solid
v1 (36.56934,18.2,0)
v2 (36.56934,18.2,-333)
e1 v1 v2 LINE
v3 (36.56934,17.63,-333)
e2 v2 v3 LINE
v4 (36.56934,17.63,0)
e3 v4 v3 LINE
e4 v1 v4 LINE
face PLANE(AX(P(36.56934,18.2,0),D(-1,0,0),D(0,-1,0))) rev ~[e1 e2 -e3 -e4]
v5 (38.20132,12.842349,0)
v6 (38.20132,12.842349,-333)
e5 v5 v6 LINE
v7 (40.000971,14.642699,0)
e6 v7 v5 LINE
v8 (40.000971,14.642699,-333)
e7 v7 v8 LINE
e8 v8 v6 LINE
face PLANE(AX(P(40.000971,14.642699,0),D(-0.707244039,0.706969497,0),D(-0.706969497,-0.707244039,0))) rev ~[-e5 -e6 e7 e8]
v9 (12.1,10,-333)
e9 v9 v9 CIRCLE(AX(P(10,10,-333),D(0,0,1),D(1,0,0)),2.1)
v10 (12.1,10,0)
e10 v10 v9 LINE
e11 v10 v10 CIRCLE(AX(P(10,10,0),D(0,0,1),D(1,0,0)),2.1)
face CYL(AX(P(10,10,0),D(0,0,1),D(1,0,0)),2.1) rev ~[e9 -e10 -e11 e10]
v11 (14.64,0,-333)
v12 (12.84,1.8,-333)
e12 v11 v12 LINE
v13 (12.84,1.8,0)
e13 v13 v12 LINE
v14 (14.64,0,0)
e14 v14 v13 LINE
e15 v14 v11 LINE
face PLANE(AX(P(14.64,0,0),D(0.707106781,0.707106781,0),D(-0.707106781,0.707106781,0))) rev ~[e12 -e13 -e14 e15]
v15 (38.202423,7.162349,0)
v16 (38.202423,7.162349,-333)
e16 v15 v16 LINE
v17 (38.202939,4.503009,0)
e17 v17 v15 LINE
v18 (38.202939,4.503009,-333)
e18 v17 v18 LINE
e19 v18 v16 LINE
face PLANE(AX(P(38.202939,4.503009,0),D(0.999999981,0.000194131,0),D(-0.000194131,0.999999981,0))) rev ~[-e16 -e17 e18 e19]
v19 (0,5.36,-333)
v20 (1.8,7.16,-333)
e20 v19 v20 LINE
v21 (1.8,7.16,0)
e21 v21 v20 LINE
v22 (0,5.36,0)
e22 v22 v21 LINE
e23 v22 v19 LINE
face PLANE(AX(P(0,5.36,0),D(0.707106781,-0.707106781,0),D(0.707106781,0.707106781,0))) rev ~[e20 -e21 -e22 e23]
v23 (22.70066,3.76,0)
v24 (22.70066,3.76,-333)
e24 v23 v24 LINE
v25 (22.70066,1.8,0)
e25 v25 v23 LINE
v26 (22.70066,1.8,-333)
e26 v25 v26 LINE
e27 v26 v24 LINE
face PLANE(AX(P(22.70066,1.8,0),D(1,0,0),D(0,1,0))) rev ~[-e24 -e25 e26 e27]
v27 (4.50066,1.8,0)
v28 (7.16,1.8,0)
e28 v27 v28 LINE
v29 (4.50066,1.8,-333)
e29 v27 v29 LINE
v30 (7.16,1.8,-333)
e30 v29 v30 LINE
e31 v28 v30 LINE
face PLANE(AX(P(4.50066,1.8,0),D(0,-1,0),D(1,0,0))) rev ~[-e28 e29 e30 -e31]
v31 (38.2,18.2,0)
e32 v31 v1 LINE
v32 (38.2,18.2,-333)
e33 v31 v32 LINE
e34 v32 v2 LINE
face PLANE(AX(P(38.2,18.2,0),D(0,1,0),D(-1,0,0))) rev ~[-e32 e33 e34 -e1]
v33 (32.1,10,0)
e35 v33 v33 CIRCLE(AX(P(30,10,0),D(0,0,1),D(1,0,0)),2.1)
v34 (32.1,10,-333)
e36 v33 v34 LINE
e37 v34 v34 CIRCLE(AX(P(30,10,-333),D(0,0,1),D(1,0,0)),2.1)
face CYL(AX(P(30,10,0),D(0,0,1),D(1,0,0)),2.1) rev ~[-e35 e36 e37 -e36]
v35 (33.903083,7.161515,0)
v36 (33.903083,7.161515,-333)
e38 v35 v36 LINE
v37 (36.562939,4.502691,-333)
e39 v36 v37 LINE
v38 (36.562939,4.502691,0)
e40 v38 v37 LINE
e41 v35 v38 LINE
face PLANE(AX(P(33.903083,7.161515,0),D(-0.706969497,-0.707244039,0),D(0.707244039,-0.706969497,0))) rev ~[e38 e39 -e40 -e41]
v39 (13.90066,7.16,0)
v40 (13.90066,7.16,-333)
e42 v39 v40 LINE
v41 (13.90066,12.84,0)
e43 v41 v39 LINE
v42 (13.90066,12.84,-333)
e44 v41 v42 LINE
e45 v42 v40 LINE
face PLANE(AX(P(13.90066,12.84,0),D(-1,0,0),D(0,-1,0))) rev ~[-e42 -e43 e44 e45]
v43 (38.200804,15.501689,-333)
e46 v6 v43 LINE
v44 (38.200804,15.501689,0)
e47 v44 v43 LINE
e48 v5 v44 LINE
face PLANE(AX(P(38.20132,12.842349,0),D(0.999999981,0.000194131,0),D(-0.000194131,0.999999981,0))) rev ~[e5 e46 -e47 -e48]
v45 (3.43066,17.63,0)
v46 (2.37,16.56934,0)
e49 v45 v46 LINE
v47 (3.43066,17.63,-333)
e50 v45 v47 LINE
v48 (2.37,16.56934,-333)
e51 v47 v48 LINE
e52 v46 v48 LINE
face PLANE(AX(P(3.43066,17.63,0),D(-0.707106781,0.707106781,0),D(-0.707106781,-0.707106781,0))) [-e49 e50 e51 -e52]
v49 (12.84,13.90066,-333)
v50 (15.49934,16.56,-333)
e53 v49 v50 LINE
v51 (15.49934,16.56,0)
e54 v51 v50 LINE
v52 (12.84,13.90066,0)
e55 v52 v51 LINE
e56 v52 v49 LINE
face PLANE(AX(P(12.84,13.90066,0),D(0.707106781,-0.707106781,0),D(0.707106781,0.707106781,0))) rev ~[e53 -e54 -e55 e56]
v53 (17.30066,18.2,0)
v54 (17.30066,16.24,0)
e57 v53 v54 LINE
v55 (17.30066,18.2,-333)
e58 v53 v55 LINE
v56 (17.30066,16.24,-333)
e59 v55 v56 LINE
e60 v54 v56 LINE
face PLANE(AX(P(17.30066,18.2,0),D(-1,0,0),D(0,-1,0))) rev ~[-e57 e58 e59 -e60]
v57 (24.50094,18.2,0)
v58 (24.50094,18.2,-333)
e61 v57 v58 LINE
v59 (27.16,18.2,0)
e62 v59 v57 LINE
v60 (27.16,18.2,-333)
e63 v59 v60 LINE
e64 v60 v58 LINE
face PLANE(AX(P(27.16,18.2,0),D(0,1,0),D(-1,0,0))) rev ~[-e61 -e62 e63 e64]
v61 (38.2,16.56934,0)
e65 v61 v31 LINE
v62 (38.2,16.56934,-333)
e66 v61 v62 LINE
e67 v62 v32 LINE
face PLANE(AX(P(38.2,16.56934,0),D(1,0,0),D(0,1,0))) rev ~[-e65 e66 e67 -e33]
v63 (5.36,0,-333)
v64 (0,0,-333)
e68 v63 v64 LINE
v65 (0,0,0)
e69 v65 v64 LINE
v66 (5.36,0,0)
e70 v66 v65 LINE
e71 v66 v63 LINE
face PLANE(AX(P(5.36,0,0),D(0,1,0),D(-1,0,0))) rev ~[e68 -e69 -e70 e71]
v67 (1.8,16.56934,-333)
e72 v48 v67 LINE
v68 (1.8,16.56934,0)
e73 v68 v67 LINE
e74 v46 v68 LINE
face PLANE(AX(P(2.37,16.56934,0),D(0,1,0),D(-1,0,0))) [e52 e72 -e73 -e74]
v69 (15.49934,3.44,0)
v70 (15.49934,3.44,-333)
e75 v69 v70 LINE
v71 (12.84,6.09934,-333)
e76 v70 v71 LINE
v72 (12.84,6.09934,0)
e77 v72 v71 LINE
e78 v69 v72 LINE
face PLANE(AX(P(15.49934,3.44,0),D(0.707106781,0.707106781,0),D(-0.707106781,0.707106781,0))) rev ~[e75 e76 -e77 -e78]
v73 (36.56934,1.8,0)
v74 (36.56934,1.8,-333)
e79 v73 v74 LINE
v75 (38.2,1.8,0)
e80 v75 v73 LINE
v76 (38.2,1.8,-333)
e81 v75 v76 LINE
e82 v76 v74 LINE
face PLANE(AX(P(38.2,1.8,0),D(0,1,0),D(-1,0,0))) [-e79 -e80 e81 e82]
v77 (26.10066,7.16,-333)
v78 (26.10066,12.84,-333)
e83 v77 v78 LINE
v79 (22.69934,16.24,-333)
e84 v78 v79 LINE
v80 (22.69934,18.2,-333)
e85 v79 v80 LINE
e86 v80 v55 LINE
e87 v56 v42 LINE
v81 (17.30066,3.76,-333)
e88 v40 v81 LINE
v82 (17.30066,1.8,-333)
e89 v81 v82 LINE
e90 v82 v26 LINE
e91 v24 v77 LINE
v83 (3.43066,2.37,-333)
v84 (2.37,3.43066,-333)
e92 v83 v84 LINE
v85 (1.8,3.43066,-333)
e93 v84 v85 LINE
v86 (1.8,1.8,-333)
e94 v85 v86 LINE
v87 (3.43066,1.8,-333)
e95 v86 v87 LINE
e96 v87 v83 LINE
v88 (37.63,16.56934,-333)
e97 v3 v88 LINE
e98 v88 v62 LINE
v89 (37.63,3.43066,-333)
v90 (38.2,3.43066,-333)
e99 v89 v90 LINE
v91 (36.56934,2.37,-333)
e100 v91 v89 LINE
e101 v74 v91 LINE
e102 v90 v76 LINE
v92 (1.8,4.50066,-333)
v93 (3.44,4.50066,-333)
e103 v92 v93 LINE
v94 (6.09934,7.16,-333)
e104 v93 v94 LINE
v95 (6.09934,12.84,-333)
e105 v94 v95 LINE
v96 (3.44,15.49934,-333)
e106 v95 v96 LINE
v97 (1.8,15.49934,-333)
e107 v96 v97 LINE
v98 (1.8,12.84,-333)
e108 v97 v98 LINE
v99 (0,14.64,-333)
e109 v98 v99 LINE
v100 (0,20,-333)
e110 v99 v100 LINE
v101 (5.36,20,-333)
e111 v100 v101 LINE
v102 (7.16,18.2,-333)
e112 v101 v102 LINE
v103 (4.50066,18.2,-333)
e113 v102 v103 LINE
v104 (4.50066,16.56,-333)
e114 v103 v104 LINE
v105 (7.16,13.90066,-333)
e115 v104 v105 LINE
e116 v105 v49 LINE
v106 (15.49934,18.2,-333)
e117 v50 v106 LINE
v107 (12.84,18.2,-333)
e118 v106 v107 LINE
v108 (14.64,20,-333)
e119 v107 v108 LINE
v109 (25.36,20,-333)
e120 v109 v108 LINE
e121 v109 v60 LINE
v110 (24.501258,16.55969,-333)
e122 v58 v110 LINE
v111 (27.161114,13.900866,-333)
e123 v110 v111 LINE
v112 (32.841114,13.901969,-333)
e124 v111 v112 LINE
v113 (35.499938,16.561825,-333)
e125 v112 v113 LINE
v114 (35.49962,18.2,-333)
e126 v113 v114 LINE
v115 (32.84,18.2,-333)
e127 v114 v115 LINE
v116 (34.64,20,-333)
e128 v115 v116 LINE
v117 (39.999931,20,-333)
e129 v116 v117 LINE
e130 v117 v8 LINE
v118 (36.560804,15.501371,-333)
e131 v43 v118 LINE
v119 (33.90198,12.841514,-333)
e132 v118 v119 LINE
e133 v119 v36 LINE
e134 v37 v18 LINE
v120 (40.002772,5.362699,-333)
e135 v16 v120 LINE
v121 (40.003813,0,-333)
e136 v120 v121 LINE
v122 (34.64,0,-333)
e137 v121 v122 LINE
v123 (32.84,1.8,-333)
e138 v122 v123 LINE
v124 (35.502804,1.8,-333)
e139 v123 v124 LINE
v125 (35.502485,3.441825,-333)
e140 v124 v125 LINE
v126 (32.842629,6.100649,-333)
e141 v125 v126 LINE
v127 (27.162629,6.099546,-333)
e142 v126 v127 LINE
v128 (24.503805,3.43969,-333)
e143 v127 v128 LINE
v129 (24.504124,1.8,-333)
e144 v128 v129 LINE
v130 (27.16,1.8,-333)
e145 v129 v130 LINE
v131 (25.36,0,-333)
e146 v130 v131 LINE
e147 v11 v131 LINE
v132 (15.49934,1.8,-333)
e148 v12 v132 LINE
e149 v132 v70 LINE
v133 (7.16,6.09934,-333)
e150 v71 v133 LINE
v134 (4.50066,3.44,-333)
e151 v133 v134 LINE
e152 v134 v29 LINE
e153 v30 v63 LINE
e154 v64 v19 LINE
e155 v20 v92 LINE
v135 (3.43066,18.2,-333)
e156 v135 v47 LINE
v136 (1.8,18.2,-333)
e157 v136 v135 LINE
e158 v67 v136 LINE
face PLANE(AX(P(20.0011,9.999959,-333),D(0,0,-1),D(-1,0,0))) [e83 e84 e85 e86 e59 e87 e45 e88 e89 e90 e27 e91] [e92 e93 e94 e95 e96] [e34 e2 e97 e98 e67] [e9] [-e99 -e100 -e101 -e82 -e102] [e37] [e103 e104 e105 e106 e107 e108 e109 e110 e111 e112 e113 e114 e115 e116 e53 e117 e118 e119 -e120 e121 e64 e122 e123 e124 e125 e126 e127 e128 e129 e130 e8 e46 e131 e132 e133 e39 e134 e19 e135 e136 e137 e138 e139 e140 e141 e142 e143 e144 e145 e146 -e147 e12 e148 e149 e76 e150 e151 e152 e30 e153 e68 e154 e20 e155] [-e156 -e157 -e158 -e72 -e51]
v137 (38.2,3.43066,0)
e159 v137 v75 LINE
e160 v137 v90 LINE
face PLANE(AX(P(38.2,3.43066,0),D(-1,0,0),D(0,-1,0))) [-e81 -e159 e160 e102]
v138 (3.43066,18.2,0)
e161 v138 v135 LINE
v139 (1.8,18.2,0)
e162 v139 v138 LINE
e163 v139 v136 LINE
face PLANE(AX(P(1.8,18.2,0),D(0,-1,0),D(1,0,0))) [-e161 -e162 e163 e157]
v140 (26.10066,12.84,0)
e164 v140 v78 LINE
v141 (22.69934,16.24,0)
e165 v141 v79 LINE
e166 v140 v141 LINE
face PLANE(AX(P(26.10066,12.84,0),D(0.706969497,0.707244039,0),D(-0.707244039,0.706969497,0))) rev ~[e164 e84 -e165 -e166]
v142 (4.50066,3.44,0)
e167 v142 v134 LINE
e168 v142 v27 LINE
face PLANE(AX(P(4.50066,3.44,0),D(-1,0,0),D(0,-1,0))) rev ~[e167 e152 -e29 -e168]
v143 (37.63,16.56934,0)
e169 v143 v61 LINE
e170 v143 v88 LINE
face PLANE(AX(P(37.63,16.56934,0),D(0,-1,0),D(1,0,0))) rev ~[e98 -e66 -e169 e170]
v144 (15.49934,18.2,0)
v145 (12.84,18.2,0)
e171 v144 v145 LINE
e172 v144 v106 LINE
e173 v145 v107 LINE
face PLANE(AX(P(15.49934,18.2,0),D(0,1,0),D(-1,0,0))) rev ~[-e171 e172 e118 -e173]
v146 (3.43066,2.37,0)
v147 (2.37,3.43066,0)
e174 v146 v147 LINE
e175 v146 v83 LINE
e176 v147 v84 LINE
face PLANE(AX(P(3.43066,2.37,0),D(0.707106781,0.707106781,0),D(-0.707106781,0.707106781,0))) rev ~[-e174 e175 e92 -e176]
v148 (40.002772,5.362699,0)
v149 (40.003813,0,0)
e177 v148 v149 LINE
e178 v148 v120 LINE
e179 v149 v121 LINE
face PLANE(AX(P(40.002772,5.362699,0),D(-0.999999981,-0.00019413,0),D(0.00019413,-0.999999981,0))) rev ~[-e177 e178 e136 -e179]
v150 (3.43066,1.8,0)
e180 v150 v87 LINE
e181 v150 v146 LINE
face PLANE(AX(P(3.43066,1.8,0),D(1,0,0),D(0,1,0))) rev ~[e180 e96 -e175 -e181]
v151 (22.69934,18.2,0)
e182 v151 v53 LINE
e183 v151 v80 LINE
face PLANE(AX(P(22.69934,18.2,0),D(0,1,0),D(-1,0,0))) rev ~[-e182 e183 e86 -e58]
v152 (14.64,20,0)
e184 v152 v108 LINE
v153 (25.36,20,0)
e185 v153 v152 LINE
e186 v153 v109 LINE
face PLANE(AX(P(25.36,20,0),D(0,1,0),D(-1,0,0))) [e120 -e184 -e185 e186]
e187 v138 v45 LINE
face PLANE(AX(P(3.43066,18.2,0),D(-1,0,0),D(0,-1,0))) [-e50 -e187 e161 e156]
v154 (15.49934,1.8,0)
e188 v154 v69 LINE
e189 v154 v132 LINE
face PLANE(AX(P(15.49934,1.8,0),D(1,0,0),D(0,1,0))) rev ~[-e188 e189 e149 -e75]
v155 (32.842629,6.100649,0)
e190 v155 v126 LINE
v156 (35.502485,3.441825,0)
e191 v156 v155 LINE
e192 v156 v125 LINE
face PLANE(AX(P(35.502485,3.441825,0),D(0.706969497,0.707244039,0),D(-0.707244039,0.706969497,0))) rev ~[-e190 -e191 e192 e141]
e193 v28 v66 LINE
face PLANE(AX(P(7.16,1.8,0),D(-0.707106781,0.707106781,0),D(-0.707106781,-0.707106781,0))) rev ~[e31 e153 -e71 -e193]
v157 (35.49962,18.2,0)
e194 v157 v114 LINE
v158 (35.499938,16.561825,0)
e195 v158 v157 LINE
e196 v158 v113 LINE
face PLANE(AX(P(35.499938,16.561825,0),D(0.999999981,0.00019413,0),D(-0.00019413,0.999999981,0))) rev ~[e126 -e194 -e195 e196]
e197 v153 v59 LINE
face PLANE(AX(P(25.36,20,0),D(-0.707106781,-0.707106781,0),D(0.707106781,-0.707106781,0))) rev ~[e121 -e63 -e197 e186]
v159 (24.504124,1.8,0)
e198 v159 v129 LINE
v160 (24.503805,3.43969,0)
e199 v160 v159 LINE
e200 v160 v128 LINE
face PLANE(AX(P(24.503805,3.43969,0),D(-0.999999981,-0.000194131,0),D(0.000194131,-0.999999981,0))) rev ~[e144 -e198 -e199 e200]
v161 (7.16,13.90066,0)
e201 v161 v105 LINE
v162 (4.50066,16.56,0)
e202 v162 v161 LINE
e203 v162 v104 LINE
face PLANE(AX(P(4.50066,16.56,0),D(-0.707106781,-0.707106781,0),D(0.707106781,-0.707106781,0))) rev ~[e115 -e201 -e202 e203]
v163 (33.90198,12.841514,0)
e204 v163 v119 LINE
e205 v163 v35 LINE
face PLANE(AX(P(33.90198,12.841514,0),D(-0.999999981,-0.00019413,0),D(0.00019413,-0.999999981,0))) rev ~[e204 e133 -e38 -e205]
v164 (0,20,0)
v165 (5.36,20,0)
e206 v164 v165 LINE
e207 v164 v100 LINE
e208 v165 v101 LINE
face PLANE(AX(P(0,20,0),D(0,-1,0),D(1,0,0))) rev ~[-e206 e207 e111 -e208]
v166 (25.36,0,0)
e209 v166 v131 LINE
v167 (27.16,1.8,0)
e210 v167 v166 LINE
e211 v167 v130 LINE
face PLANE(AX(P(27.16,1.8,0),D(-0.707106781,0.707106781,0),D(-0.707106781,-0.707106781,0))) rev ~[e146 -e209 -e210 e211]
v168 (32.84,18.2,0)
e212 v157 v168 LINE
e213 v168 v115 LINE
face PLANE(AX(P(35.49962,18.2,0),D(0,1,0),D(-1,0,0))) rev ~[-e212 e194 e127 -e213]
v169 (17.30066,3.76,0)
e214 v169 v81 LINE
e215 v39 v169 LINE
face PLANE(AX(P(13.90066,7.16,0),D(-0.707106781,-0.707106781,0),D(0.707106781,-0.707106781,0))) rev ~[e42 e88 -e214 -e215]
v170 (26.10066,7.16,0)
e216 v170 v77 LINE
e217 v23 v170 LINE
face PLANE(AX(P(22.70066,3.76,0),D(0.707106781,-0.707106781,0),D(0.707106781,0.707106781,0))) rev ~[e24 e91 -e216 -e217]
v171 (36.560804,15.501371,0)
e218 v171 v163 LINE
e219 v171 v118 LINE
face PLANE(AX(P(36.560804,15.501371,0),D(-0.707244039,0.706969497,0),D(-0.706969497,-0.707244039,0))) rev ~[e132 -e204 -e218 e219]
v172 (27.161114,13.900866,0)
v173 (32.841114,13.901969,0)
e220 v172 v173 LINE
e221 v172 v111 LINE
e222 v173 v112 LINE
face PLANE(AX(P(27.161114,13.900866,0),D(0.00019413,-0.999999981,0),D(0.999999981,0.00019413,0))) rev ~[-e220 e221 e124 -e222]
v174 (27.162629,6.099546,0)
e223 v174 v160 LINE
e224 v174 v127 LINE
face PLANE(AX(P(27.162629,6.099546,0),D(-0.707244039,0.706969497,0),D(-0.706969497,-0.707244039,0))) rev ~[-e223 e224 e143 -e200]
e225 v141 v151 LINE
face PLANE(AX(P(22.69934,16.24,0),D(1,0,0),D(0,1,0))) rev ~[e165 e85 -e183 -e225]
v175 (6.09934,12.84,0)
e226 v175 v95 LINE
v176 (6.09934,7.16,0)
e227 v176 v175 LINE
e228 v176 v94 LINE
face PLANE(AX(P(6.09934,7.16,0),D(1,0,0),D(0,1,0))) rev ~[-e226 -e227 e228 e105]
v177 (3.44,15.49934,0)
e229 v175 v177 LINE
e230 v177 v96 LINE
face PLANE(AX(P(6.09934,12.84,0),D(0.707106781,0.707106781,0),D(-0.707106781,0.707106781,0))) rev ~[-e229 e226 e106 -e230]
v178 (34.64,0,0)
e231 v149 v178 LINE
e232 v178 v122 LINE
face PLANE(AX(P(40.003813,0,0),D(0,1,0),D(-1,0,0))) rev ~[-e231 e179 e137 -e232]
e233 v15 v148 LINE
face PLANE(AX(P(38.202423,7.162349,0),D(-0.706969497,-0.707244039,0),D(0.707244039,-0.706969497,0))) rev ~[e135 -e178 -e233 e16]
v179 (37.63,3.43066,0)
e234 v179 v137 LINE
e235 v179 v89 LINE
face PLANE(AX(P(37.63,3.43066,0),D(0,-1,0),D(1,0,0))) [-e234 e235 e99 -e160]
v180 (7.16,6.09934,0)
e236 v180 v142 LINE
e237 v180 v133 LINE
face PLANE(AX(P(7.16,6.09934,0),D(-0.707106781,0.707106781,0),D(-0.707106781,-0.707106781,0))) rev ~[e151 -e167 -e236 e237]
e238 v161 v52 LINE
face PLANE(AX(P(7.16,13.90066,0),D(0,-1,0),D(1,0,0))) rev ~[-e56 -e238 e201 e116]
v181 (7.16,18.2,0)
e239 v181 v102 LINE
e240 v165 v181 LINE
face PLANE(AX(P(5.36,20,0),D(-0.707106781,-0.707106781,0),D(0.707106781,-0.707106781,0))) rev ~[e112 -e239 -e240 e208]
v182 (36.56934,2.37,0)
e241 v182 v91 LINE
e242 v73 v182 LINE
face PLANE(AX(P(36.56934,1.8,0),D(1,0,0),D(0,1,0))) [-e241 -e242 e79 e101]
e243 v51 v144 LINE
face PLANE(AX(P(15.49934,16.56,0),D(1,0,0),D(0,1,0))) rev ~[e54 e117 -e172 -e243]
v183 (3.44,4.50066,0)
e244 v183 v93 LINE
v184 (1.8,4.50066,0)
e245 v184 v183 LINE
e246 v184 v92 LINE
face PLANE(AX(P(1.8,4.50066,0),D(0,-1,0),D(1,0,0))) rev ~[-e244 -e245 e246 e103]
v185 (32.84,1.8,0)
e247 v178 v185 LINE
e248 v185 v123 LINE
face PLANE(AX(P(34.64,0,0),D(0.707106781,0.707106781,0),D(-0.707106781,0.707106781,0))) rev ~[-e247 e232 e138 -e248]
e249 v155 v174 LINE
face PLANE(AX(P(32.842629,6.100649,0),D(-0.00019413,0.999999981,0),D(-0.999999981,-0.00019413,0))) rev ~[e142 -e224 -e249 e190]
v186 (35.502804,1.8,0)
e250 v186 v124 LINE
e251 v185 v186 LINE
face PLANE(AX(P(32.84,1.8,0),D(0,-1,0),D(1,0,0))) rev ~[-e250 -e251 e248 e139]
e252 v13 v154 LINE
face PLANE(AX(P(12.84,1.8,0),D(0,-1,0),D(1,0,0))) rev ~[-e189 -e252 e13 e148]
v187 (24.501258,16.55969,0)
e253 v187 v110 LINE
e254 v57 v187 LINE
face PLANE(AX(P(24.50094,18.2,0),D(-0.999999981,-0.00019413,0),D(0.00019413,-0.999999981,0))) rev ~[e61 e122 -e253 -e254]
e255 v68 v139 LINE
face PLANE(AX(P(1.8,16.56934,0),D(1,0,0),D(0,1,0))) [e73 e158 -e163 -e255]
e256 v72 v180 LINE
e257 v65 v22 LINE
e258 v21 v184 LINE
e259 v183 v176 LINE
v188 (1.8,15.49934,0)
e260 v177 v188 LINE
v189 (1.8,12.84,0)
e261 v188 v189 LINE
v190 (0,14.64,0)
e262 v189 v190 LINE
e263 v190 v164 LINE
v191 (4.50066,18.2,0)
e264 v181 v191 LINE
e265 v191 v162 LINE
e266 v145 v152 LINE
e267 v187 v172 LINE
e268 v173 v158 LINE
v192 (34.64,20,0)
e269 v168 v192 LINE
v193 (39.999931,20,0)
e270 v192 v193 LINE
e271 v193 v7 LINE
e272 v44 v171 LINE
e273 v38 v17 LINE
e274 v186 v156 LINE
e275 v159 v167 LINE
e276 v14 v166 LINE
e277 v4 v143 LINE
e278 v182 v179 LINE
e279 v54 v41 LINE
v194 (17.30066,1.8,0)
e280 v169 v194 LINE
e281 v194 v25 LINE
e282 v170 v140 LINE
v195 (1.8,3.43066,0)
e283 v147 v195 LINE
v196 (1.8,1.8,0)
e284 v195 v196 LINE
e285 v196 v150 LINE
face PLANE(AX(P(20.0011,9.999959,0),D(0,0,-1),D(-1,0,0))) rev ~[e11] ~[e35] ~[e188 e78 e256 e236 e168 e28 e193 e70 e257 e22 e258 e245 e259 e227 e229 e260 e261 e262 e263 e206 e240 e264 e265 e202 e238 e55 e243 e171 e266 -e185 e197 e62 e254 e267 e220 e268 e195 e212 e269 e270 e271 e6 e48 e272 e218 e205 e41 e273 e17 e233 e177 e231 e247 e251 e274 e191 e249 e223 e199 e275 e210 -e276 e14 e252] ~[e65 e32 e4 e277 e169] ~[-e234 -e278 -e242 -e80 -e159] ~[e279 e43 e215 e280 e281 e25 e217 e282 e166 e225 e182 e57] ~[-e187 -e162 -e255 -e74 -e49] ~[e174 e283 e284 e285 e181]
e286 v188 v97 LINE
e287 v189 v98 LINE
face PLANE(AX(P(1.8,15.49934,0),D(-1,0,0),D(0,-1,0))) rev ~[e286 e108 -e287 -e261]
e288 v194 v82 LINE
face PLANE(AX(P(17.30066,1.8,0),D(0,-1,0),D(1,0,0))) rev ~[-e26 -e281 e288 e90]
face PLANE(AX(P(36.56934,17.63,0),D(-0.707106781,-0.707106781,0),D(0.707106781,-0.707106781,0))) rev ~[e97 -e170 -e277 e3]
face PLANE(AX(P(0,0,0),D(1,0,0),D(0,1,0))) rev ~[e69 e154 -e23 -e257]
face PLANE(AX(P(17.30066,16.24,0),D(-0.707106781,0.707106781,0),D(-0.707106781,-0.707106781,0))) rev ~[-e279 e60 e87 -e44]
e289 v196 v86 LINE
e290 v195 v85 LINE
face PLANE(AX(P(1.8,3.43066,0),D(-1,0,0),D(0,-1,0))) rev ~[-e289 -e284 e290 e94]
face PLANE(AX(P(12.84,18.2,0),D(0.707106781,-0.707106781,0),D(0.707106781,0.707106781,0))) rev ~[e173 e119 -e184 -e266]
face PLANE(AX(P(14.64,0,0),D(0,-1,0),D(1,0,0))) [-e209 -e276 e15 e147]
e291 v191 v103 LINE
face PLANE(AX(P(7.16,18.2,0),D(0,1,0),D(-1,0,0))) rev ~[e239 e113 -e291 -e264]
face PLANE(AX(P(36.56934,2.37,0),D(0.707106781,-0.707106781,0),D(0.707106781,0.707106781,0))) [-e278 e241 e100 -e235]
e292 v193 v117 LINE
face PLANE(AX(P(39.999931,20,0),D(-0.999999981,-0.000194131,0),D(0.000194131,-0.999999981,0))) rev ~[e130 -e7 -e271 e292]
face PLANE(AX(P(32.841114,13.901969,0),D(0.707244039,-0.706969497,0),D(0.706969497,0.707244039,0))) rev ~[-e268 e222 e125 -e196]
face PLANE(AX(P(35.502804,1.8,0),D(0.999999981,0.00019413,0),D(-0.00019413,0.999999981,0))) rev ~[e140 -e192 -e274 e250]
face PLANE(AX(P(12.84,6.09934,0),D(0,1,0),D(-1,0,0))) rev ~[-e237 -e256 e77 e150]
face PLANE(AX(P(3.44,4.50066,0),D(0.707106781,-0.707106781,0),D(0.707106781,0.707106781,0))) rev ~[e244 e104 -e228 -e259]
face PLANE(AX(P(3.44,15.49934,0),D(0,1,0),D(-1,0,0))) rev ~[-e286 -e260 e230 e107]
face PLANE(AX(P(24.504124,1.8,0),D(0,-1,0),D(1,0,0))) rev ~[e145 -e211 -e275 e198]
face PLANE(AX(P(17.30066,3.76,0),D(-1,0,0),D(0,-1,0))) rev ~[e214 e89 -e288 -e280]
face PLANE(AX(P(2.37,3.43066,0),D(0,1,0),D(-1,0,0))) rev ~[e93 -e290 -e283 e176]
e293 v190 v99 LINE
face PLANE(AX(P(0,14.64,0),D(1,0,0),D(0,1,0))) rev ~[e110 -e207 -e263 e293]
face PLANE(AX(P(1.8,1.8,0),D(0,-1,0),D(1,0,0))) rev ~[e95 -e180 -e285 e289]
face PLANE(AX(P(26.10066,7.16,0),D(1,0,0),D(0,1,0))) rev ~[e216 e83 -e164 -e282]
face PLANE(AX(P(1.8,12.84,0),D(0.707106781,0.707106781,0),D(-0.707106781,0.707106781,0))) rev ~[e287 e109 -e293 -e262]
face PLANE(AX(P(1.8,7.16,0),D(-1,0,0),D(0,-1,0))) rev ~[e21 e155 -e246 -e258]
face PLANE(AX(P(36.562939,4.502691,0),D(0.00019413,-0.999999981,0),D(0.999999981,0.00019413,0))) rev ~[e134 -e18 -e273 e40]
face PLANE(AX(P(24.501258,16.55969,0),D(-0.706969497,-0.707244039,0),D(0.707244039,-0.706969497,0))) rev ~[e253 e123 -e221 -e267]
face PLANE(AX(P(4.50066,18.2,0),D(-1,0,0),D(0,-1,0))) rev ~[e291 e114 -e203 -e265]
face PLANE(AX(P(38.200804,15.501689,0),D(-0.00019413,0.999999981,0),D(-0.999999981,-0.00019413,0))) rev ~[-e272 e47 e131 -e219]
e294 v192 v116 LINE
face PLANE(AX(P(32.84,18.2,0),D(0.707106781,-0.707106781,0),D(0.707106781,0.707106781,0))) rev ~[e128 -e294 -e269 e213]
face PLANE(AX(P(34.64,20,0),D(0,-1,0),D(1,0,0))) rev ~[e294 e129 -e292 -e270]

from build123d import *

# Parameters (mm, degrees)
SKETCH1_R           = 2.1
BOSS_EXTRUDE1_DEPTH = 333


with BuildPart() as part:
    # Sketch1 → Boss-Extrude1 (new body)
    with BuildSketch(Plane.XY):
        Polygon((0, 0), (0, 5.36), (1.8, 7.16), (1.8, 4.500660172), (3.44, 4.500660172), (6.099339828, 7.16), (6.099339828, 12.84), (3.44, 15.499339828), (1.8, 15.499339828), (1.8, 12.84), (0, 14.64), (0, 20), (5.36, 20), (7.16, 18.2), (4.500660172, 18.2), (4.500660172, 16.56), (7.16, 13.900660172), (12.84, 13.900660172), (15.499339828, 16.56), (15.499339828, 18.2), (12.84, 18.2), (14.64, 20), (20, 20), (25.36, 20), (27.16, 18.2), (24.500939946, 18.2), (24.50125838, 16.559689577), (27.161114417, 13.900866058), (32.84111431, 13.901968719), (35.499937829, 16.561824756), (35.49961981, 18.2), (32.84, 18.2), (34.64, 20), (39.999930631, 20), (40.000970647, 14.642698508), (38.201320116, 12.842349107), (38.200803857, 15.501688885), (36.560803888, 15.501370511), (33.901980368, 12.841514474), (33.903083029, 7.161514581), (36.562939066, 4.502691062), (38.202939036, 4.503009436), (38.202422777, 7.162349214), (40.002772178, 5.362698683), (40.003813241, 0), (34.64, 0), (32.84, 1.8), (35.502803549, 1.8), (35.502484821, 3.441825004), (32.842628784, 6.100648523), (27.162628891, 6.099545862), (24.503805372, 3.439689825), (24.504123686, 1.8), (27.16, 1.8), (25.36, 0), (20, 0), (14.64, 0), (12.84, 1.8), (15.499339828, 1.8), (15.499339828, 3.44), (12.84, 6.099339828), (7.16, 6.099339828), (4.500660172, 3.44), (4.500660172, 1.8), (7.16, 1.8), (5.36, 0), align=None)
        with Locations((10, 10)):
            Circle(SKETCH1_R, mode=Mode.SUBTRACT)
        with Locations((30, 10)):
            Circle(SKETCH1_R, mode=Mode.SUBTRACT)
        Polygon((17.300660172, 3.76), (17.300660172, 1.8), (22.700660172, 1.8), (22.700660172, 3.76), (26.100660172, 7.16), (26.100660172, 12.84), (22.699339828, 16.24), (22.699339828, 18.2), (17.300660172, 18.2), (17.300660172, 16.24), (13.900660172, 12.84), (13.900660172, 7.16), align=None, mode=Mode.SUBTRACT)
        Polygon((1.8, 18.2), (3.430660172, 18.2), (3.430660172, 17.63), (2.37, 16.569339828), (1.8, 16.569339828), align=None, mode=Mode.SUBTRACT)
        Polygon((1.8, 3.430660172), (1.8, 1.8), (3.430660172, 1.8), (3.430660172, 2.37), (2.37, 3.430660172), align=None, mode=Mode.SUBTRACT)
        Polygon((38.2, 1.8), (36.569339828, 1.8), (36.569339828, 2.37), (37.63, 3.430660172), (38.2, 3.430660172), align=None, mode=Mode.SUBTRACT)
        Polygon((38.2, 16.569339828), (38.2, 18.2), (36.569339828, 18.2), (36.569339828, 17.63), (37.63, 16.569339828), align=None, mode=Mode.SUBTRACT)
    extrude(amount=-BOSS_EXTRUDE1_DEPTH)


solid = part.part
